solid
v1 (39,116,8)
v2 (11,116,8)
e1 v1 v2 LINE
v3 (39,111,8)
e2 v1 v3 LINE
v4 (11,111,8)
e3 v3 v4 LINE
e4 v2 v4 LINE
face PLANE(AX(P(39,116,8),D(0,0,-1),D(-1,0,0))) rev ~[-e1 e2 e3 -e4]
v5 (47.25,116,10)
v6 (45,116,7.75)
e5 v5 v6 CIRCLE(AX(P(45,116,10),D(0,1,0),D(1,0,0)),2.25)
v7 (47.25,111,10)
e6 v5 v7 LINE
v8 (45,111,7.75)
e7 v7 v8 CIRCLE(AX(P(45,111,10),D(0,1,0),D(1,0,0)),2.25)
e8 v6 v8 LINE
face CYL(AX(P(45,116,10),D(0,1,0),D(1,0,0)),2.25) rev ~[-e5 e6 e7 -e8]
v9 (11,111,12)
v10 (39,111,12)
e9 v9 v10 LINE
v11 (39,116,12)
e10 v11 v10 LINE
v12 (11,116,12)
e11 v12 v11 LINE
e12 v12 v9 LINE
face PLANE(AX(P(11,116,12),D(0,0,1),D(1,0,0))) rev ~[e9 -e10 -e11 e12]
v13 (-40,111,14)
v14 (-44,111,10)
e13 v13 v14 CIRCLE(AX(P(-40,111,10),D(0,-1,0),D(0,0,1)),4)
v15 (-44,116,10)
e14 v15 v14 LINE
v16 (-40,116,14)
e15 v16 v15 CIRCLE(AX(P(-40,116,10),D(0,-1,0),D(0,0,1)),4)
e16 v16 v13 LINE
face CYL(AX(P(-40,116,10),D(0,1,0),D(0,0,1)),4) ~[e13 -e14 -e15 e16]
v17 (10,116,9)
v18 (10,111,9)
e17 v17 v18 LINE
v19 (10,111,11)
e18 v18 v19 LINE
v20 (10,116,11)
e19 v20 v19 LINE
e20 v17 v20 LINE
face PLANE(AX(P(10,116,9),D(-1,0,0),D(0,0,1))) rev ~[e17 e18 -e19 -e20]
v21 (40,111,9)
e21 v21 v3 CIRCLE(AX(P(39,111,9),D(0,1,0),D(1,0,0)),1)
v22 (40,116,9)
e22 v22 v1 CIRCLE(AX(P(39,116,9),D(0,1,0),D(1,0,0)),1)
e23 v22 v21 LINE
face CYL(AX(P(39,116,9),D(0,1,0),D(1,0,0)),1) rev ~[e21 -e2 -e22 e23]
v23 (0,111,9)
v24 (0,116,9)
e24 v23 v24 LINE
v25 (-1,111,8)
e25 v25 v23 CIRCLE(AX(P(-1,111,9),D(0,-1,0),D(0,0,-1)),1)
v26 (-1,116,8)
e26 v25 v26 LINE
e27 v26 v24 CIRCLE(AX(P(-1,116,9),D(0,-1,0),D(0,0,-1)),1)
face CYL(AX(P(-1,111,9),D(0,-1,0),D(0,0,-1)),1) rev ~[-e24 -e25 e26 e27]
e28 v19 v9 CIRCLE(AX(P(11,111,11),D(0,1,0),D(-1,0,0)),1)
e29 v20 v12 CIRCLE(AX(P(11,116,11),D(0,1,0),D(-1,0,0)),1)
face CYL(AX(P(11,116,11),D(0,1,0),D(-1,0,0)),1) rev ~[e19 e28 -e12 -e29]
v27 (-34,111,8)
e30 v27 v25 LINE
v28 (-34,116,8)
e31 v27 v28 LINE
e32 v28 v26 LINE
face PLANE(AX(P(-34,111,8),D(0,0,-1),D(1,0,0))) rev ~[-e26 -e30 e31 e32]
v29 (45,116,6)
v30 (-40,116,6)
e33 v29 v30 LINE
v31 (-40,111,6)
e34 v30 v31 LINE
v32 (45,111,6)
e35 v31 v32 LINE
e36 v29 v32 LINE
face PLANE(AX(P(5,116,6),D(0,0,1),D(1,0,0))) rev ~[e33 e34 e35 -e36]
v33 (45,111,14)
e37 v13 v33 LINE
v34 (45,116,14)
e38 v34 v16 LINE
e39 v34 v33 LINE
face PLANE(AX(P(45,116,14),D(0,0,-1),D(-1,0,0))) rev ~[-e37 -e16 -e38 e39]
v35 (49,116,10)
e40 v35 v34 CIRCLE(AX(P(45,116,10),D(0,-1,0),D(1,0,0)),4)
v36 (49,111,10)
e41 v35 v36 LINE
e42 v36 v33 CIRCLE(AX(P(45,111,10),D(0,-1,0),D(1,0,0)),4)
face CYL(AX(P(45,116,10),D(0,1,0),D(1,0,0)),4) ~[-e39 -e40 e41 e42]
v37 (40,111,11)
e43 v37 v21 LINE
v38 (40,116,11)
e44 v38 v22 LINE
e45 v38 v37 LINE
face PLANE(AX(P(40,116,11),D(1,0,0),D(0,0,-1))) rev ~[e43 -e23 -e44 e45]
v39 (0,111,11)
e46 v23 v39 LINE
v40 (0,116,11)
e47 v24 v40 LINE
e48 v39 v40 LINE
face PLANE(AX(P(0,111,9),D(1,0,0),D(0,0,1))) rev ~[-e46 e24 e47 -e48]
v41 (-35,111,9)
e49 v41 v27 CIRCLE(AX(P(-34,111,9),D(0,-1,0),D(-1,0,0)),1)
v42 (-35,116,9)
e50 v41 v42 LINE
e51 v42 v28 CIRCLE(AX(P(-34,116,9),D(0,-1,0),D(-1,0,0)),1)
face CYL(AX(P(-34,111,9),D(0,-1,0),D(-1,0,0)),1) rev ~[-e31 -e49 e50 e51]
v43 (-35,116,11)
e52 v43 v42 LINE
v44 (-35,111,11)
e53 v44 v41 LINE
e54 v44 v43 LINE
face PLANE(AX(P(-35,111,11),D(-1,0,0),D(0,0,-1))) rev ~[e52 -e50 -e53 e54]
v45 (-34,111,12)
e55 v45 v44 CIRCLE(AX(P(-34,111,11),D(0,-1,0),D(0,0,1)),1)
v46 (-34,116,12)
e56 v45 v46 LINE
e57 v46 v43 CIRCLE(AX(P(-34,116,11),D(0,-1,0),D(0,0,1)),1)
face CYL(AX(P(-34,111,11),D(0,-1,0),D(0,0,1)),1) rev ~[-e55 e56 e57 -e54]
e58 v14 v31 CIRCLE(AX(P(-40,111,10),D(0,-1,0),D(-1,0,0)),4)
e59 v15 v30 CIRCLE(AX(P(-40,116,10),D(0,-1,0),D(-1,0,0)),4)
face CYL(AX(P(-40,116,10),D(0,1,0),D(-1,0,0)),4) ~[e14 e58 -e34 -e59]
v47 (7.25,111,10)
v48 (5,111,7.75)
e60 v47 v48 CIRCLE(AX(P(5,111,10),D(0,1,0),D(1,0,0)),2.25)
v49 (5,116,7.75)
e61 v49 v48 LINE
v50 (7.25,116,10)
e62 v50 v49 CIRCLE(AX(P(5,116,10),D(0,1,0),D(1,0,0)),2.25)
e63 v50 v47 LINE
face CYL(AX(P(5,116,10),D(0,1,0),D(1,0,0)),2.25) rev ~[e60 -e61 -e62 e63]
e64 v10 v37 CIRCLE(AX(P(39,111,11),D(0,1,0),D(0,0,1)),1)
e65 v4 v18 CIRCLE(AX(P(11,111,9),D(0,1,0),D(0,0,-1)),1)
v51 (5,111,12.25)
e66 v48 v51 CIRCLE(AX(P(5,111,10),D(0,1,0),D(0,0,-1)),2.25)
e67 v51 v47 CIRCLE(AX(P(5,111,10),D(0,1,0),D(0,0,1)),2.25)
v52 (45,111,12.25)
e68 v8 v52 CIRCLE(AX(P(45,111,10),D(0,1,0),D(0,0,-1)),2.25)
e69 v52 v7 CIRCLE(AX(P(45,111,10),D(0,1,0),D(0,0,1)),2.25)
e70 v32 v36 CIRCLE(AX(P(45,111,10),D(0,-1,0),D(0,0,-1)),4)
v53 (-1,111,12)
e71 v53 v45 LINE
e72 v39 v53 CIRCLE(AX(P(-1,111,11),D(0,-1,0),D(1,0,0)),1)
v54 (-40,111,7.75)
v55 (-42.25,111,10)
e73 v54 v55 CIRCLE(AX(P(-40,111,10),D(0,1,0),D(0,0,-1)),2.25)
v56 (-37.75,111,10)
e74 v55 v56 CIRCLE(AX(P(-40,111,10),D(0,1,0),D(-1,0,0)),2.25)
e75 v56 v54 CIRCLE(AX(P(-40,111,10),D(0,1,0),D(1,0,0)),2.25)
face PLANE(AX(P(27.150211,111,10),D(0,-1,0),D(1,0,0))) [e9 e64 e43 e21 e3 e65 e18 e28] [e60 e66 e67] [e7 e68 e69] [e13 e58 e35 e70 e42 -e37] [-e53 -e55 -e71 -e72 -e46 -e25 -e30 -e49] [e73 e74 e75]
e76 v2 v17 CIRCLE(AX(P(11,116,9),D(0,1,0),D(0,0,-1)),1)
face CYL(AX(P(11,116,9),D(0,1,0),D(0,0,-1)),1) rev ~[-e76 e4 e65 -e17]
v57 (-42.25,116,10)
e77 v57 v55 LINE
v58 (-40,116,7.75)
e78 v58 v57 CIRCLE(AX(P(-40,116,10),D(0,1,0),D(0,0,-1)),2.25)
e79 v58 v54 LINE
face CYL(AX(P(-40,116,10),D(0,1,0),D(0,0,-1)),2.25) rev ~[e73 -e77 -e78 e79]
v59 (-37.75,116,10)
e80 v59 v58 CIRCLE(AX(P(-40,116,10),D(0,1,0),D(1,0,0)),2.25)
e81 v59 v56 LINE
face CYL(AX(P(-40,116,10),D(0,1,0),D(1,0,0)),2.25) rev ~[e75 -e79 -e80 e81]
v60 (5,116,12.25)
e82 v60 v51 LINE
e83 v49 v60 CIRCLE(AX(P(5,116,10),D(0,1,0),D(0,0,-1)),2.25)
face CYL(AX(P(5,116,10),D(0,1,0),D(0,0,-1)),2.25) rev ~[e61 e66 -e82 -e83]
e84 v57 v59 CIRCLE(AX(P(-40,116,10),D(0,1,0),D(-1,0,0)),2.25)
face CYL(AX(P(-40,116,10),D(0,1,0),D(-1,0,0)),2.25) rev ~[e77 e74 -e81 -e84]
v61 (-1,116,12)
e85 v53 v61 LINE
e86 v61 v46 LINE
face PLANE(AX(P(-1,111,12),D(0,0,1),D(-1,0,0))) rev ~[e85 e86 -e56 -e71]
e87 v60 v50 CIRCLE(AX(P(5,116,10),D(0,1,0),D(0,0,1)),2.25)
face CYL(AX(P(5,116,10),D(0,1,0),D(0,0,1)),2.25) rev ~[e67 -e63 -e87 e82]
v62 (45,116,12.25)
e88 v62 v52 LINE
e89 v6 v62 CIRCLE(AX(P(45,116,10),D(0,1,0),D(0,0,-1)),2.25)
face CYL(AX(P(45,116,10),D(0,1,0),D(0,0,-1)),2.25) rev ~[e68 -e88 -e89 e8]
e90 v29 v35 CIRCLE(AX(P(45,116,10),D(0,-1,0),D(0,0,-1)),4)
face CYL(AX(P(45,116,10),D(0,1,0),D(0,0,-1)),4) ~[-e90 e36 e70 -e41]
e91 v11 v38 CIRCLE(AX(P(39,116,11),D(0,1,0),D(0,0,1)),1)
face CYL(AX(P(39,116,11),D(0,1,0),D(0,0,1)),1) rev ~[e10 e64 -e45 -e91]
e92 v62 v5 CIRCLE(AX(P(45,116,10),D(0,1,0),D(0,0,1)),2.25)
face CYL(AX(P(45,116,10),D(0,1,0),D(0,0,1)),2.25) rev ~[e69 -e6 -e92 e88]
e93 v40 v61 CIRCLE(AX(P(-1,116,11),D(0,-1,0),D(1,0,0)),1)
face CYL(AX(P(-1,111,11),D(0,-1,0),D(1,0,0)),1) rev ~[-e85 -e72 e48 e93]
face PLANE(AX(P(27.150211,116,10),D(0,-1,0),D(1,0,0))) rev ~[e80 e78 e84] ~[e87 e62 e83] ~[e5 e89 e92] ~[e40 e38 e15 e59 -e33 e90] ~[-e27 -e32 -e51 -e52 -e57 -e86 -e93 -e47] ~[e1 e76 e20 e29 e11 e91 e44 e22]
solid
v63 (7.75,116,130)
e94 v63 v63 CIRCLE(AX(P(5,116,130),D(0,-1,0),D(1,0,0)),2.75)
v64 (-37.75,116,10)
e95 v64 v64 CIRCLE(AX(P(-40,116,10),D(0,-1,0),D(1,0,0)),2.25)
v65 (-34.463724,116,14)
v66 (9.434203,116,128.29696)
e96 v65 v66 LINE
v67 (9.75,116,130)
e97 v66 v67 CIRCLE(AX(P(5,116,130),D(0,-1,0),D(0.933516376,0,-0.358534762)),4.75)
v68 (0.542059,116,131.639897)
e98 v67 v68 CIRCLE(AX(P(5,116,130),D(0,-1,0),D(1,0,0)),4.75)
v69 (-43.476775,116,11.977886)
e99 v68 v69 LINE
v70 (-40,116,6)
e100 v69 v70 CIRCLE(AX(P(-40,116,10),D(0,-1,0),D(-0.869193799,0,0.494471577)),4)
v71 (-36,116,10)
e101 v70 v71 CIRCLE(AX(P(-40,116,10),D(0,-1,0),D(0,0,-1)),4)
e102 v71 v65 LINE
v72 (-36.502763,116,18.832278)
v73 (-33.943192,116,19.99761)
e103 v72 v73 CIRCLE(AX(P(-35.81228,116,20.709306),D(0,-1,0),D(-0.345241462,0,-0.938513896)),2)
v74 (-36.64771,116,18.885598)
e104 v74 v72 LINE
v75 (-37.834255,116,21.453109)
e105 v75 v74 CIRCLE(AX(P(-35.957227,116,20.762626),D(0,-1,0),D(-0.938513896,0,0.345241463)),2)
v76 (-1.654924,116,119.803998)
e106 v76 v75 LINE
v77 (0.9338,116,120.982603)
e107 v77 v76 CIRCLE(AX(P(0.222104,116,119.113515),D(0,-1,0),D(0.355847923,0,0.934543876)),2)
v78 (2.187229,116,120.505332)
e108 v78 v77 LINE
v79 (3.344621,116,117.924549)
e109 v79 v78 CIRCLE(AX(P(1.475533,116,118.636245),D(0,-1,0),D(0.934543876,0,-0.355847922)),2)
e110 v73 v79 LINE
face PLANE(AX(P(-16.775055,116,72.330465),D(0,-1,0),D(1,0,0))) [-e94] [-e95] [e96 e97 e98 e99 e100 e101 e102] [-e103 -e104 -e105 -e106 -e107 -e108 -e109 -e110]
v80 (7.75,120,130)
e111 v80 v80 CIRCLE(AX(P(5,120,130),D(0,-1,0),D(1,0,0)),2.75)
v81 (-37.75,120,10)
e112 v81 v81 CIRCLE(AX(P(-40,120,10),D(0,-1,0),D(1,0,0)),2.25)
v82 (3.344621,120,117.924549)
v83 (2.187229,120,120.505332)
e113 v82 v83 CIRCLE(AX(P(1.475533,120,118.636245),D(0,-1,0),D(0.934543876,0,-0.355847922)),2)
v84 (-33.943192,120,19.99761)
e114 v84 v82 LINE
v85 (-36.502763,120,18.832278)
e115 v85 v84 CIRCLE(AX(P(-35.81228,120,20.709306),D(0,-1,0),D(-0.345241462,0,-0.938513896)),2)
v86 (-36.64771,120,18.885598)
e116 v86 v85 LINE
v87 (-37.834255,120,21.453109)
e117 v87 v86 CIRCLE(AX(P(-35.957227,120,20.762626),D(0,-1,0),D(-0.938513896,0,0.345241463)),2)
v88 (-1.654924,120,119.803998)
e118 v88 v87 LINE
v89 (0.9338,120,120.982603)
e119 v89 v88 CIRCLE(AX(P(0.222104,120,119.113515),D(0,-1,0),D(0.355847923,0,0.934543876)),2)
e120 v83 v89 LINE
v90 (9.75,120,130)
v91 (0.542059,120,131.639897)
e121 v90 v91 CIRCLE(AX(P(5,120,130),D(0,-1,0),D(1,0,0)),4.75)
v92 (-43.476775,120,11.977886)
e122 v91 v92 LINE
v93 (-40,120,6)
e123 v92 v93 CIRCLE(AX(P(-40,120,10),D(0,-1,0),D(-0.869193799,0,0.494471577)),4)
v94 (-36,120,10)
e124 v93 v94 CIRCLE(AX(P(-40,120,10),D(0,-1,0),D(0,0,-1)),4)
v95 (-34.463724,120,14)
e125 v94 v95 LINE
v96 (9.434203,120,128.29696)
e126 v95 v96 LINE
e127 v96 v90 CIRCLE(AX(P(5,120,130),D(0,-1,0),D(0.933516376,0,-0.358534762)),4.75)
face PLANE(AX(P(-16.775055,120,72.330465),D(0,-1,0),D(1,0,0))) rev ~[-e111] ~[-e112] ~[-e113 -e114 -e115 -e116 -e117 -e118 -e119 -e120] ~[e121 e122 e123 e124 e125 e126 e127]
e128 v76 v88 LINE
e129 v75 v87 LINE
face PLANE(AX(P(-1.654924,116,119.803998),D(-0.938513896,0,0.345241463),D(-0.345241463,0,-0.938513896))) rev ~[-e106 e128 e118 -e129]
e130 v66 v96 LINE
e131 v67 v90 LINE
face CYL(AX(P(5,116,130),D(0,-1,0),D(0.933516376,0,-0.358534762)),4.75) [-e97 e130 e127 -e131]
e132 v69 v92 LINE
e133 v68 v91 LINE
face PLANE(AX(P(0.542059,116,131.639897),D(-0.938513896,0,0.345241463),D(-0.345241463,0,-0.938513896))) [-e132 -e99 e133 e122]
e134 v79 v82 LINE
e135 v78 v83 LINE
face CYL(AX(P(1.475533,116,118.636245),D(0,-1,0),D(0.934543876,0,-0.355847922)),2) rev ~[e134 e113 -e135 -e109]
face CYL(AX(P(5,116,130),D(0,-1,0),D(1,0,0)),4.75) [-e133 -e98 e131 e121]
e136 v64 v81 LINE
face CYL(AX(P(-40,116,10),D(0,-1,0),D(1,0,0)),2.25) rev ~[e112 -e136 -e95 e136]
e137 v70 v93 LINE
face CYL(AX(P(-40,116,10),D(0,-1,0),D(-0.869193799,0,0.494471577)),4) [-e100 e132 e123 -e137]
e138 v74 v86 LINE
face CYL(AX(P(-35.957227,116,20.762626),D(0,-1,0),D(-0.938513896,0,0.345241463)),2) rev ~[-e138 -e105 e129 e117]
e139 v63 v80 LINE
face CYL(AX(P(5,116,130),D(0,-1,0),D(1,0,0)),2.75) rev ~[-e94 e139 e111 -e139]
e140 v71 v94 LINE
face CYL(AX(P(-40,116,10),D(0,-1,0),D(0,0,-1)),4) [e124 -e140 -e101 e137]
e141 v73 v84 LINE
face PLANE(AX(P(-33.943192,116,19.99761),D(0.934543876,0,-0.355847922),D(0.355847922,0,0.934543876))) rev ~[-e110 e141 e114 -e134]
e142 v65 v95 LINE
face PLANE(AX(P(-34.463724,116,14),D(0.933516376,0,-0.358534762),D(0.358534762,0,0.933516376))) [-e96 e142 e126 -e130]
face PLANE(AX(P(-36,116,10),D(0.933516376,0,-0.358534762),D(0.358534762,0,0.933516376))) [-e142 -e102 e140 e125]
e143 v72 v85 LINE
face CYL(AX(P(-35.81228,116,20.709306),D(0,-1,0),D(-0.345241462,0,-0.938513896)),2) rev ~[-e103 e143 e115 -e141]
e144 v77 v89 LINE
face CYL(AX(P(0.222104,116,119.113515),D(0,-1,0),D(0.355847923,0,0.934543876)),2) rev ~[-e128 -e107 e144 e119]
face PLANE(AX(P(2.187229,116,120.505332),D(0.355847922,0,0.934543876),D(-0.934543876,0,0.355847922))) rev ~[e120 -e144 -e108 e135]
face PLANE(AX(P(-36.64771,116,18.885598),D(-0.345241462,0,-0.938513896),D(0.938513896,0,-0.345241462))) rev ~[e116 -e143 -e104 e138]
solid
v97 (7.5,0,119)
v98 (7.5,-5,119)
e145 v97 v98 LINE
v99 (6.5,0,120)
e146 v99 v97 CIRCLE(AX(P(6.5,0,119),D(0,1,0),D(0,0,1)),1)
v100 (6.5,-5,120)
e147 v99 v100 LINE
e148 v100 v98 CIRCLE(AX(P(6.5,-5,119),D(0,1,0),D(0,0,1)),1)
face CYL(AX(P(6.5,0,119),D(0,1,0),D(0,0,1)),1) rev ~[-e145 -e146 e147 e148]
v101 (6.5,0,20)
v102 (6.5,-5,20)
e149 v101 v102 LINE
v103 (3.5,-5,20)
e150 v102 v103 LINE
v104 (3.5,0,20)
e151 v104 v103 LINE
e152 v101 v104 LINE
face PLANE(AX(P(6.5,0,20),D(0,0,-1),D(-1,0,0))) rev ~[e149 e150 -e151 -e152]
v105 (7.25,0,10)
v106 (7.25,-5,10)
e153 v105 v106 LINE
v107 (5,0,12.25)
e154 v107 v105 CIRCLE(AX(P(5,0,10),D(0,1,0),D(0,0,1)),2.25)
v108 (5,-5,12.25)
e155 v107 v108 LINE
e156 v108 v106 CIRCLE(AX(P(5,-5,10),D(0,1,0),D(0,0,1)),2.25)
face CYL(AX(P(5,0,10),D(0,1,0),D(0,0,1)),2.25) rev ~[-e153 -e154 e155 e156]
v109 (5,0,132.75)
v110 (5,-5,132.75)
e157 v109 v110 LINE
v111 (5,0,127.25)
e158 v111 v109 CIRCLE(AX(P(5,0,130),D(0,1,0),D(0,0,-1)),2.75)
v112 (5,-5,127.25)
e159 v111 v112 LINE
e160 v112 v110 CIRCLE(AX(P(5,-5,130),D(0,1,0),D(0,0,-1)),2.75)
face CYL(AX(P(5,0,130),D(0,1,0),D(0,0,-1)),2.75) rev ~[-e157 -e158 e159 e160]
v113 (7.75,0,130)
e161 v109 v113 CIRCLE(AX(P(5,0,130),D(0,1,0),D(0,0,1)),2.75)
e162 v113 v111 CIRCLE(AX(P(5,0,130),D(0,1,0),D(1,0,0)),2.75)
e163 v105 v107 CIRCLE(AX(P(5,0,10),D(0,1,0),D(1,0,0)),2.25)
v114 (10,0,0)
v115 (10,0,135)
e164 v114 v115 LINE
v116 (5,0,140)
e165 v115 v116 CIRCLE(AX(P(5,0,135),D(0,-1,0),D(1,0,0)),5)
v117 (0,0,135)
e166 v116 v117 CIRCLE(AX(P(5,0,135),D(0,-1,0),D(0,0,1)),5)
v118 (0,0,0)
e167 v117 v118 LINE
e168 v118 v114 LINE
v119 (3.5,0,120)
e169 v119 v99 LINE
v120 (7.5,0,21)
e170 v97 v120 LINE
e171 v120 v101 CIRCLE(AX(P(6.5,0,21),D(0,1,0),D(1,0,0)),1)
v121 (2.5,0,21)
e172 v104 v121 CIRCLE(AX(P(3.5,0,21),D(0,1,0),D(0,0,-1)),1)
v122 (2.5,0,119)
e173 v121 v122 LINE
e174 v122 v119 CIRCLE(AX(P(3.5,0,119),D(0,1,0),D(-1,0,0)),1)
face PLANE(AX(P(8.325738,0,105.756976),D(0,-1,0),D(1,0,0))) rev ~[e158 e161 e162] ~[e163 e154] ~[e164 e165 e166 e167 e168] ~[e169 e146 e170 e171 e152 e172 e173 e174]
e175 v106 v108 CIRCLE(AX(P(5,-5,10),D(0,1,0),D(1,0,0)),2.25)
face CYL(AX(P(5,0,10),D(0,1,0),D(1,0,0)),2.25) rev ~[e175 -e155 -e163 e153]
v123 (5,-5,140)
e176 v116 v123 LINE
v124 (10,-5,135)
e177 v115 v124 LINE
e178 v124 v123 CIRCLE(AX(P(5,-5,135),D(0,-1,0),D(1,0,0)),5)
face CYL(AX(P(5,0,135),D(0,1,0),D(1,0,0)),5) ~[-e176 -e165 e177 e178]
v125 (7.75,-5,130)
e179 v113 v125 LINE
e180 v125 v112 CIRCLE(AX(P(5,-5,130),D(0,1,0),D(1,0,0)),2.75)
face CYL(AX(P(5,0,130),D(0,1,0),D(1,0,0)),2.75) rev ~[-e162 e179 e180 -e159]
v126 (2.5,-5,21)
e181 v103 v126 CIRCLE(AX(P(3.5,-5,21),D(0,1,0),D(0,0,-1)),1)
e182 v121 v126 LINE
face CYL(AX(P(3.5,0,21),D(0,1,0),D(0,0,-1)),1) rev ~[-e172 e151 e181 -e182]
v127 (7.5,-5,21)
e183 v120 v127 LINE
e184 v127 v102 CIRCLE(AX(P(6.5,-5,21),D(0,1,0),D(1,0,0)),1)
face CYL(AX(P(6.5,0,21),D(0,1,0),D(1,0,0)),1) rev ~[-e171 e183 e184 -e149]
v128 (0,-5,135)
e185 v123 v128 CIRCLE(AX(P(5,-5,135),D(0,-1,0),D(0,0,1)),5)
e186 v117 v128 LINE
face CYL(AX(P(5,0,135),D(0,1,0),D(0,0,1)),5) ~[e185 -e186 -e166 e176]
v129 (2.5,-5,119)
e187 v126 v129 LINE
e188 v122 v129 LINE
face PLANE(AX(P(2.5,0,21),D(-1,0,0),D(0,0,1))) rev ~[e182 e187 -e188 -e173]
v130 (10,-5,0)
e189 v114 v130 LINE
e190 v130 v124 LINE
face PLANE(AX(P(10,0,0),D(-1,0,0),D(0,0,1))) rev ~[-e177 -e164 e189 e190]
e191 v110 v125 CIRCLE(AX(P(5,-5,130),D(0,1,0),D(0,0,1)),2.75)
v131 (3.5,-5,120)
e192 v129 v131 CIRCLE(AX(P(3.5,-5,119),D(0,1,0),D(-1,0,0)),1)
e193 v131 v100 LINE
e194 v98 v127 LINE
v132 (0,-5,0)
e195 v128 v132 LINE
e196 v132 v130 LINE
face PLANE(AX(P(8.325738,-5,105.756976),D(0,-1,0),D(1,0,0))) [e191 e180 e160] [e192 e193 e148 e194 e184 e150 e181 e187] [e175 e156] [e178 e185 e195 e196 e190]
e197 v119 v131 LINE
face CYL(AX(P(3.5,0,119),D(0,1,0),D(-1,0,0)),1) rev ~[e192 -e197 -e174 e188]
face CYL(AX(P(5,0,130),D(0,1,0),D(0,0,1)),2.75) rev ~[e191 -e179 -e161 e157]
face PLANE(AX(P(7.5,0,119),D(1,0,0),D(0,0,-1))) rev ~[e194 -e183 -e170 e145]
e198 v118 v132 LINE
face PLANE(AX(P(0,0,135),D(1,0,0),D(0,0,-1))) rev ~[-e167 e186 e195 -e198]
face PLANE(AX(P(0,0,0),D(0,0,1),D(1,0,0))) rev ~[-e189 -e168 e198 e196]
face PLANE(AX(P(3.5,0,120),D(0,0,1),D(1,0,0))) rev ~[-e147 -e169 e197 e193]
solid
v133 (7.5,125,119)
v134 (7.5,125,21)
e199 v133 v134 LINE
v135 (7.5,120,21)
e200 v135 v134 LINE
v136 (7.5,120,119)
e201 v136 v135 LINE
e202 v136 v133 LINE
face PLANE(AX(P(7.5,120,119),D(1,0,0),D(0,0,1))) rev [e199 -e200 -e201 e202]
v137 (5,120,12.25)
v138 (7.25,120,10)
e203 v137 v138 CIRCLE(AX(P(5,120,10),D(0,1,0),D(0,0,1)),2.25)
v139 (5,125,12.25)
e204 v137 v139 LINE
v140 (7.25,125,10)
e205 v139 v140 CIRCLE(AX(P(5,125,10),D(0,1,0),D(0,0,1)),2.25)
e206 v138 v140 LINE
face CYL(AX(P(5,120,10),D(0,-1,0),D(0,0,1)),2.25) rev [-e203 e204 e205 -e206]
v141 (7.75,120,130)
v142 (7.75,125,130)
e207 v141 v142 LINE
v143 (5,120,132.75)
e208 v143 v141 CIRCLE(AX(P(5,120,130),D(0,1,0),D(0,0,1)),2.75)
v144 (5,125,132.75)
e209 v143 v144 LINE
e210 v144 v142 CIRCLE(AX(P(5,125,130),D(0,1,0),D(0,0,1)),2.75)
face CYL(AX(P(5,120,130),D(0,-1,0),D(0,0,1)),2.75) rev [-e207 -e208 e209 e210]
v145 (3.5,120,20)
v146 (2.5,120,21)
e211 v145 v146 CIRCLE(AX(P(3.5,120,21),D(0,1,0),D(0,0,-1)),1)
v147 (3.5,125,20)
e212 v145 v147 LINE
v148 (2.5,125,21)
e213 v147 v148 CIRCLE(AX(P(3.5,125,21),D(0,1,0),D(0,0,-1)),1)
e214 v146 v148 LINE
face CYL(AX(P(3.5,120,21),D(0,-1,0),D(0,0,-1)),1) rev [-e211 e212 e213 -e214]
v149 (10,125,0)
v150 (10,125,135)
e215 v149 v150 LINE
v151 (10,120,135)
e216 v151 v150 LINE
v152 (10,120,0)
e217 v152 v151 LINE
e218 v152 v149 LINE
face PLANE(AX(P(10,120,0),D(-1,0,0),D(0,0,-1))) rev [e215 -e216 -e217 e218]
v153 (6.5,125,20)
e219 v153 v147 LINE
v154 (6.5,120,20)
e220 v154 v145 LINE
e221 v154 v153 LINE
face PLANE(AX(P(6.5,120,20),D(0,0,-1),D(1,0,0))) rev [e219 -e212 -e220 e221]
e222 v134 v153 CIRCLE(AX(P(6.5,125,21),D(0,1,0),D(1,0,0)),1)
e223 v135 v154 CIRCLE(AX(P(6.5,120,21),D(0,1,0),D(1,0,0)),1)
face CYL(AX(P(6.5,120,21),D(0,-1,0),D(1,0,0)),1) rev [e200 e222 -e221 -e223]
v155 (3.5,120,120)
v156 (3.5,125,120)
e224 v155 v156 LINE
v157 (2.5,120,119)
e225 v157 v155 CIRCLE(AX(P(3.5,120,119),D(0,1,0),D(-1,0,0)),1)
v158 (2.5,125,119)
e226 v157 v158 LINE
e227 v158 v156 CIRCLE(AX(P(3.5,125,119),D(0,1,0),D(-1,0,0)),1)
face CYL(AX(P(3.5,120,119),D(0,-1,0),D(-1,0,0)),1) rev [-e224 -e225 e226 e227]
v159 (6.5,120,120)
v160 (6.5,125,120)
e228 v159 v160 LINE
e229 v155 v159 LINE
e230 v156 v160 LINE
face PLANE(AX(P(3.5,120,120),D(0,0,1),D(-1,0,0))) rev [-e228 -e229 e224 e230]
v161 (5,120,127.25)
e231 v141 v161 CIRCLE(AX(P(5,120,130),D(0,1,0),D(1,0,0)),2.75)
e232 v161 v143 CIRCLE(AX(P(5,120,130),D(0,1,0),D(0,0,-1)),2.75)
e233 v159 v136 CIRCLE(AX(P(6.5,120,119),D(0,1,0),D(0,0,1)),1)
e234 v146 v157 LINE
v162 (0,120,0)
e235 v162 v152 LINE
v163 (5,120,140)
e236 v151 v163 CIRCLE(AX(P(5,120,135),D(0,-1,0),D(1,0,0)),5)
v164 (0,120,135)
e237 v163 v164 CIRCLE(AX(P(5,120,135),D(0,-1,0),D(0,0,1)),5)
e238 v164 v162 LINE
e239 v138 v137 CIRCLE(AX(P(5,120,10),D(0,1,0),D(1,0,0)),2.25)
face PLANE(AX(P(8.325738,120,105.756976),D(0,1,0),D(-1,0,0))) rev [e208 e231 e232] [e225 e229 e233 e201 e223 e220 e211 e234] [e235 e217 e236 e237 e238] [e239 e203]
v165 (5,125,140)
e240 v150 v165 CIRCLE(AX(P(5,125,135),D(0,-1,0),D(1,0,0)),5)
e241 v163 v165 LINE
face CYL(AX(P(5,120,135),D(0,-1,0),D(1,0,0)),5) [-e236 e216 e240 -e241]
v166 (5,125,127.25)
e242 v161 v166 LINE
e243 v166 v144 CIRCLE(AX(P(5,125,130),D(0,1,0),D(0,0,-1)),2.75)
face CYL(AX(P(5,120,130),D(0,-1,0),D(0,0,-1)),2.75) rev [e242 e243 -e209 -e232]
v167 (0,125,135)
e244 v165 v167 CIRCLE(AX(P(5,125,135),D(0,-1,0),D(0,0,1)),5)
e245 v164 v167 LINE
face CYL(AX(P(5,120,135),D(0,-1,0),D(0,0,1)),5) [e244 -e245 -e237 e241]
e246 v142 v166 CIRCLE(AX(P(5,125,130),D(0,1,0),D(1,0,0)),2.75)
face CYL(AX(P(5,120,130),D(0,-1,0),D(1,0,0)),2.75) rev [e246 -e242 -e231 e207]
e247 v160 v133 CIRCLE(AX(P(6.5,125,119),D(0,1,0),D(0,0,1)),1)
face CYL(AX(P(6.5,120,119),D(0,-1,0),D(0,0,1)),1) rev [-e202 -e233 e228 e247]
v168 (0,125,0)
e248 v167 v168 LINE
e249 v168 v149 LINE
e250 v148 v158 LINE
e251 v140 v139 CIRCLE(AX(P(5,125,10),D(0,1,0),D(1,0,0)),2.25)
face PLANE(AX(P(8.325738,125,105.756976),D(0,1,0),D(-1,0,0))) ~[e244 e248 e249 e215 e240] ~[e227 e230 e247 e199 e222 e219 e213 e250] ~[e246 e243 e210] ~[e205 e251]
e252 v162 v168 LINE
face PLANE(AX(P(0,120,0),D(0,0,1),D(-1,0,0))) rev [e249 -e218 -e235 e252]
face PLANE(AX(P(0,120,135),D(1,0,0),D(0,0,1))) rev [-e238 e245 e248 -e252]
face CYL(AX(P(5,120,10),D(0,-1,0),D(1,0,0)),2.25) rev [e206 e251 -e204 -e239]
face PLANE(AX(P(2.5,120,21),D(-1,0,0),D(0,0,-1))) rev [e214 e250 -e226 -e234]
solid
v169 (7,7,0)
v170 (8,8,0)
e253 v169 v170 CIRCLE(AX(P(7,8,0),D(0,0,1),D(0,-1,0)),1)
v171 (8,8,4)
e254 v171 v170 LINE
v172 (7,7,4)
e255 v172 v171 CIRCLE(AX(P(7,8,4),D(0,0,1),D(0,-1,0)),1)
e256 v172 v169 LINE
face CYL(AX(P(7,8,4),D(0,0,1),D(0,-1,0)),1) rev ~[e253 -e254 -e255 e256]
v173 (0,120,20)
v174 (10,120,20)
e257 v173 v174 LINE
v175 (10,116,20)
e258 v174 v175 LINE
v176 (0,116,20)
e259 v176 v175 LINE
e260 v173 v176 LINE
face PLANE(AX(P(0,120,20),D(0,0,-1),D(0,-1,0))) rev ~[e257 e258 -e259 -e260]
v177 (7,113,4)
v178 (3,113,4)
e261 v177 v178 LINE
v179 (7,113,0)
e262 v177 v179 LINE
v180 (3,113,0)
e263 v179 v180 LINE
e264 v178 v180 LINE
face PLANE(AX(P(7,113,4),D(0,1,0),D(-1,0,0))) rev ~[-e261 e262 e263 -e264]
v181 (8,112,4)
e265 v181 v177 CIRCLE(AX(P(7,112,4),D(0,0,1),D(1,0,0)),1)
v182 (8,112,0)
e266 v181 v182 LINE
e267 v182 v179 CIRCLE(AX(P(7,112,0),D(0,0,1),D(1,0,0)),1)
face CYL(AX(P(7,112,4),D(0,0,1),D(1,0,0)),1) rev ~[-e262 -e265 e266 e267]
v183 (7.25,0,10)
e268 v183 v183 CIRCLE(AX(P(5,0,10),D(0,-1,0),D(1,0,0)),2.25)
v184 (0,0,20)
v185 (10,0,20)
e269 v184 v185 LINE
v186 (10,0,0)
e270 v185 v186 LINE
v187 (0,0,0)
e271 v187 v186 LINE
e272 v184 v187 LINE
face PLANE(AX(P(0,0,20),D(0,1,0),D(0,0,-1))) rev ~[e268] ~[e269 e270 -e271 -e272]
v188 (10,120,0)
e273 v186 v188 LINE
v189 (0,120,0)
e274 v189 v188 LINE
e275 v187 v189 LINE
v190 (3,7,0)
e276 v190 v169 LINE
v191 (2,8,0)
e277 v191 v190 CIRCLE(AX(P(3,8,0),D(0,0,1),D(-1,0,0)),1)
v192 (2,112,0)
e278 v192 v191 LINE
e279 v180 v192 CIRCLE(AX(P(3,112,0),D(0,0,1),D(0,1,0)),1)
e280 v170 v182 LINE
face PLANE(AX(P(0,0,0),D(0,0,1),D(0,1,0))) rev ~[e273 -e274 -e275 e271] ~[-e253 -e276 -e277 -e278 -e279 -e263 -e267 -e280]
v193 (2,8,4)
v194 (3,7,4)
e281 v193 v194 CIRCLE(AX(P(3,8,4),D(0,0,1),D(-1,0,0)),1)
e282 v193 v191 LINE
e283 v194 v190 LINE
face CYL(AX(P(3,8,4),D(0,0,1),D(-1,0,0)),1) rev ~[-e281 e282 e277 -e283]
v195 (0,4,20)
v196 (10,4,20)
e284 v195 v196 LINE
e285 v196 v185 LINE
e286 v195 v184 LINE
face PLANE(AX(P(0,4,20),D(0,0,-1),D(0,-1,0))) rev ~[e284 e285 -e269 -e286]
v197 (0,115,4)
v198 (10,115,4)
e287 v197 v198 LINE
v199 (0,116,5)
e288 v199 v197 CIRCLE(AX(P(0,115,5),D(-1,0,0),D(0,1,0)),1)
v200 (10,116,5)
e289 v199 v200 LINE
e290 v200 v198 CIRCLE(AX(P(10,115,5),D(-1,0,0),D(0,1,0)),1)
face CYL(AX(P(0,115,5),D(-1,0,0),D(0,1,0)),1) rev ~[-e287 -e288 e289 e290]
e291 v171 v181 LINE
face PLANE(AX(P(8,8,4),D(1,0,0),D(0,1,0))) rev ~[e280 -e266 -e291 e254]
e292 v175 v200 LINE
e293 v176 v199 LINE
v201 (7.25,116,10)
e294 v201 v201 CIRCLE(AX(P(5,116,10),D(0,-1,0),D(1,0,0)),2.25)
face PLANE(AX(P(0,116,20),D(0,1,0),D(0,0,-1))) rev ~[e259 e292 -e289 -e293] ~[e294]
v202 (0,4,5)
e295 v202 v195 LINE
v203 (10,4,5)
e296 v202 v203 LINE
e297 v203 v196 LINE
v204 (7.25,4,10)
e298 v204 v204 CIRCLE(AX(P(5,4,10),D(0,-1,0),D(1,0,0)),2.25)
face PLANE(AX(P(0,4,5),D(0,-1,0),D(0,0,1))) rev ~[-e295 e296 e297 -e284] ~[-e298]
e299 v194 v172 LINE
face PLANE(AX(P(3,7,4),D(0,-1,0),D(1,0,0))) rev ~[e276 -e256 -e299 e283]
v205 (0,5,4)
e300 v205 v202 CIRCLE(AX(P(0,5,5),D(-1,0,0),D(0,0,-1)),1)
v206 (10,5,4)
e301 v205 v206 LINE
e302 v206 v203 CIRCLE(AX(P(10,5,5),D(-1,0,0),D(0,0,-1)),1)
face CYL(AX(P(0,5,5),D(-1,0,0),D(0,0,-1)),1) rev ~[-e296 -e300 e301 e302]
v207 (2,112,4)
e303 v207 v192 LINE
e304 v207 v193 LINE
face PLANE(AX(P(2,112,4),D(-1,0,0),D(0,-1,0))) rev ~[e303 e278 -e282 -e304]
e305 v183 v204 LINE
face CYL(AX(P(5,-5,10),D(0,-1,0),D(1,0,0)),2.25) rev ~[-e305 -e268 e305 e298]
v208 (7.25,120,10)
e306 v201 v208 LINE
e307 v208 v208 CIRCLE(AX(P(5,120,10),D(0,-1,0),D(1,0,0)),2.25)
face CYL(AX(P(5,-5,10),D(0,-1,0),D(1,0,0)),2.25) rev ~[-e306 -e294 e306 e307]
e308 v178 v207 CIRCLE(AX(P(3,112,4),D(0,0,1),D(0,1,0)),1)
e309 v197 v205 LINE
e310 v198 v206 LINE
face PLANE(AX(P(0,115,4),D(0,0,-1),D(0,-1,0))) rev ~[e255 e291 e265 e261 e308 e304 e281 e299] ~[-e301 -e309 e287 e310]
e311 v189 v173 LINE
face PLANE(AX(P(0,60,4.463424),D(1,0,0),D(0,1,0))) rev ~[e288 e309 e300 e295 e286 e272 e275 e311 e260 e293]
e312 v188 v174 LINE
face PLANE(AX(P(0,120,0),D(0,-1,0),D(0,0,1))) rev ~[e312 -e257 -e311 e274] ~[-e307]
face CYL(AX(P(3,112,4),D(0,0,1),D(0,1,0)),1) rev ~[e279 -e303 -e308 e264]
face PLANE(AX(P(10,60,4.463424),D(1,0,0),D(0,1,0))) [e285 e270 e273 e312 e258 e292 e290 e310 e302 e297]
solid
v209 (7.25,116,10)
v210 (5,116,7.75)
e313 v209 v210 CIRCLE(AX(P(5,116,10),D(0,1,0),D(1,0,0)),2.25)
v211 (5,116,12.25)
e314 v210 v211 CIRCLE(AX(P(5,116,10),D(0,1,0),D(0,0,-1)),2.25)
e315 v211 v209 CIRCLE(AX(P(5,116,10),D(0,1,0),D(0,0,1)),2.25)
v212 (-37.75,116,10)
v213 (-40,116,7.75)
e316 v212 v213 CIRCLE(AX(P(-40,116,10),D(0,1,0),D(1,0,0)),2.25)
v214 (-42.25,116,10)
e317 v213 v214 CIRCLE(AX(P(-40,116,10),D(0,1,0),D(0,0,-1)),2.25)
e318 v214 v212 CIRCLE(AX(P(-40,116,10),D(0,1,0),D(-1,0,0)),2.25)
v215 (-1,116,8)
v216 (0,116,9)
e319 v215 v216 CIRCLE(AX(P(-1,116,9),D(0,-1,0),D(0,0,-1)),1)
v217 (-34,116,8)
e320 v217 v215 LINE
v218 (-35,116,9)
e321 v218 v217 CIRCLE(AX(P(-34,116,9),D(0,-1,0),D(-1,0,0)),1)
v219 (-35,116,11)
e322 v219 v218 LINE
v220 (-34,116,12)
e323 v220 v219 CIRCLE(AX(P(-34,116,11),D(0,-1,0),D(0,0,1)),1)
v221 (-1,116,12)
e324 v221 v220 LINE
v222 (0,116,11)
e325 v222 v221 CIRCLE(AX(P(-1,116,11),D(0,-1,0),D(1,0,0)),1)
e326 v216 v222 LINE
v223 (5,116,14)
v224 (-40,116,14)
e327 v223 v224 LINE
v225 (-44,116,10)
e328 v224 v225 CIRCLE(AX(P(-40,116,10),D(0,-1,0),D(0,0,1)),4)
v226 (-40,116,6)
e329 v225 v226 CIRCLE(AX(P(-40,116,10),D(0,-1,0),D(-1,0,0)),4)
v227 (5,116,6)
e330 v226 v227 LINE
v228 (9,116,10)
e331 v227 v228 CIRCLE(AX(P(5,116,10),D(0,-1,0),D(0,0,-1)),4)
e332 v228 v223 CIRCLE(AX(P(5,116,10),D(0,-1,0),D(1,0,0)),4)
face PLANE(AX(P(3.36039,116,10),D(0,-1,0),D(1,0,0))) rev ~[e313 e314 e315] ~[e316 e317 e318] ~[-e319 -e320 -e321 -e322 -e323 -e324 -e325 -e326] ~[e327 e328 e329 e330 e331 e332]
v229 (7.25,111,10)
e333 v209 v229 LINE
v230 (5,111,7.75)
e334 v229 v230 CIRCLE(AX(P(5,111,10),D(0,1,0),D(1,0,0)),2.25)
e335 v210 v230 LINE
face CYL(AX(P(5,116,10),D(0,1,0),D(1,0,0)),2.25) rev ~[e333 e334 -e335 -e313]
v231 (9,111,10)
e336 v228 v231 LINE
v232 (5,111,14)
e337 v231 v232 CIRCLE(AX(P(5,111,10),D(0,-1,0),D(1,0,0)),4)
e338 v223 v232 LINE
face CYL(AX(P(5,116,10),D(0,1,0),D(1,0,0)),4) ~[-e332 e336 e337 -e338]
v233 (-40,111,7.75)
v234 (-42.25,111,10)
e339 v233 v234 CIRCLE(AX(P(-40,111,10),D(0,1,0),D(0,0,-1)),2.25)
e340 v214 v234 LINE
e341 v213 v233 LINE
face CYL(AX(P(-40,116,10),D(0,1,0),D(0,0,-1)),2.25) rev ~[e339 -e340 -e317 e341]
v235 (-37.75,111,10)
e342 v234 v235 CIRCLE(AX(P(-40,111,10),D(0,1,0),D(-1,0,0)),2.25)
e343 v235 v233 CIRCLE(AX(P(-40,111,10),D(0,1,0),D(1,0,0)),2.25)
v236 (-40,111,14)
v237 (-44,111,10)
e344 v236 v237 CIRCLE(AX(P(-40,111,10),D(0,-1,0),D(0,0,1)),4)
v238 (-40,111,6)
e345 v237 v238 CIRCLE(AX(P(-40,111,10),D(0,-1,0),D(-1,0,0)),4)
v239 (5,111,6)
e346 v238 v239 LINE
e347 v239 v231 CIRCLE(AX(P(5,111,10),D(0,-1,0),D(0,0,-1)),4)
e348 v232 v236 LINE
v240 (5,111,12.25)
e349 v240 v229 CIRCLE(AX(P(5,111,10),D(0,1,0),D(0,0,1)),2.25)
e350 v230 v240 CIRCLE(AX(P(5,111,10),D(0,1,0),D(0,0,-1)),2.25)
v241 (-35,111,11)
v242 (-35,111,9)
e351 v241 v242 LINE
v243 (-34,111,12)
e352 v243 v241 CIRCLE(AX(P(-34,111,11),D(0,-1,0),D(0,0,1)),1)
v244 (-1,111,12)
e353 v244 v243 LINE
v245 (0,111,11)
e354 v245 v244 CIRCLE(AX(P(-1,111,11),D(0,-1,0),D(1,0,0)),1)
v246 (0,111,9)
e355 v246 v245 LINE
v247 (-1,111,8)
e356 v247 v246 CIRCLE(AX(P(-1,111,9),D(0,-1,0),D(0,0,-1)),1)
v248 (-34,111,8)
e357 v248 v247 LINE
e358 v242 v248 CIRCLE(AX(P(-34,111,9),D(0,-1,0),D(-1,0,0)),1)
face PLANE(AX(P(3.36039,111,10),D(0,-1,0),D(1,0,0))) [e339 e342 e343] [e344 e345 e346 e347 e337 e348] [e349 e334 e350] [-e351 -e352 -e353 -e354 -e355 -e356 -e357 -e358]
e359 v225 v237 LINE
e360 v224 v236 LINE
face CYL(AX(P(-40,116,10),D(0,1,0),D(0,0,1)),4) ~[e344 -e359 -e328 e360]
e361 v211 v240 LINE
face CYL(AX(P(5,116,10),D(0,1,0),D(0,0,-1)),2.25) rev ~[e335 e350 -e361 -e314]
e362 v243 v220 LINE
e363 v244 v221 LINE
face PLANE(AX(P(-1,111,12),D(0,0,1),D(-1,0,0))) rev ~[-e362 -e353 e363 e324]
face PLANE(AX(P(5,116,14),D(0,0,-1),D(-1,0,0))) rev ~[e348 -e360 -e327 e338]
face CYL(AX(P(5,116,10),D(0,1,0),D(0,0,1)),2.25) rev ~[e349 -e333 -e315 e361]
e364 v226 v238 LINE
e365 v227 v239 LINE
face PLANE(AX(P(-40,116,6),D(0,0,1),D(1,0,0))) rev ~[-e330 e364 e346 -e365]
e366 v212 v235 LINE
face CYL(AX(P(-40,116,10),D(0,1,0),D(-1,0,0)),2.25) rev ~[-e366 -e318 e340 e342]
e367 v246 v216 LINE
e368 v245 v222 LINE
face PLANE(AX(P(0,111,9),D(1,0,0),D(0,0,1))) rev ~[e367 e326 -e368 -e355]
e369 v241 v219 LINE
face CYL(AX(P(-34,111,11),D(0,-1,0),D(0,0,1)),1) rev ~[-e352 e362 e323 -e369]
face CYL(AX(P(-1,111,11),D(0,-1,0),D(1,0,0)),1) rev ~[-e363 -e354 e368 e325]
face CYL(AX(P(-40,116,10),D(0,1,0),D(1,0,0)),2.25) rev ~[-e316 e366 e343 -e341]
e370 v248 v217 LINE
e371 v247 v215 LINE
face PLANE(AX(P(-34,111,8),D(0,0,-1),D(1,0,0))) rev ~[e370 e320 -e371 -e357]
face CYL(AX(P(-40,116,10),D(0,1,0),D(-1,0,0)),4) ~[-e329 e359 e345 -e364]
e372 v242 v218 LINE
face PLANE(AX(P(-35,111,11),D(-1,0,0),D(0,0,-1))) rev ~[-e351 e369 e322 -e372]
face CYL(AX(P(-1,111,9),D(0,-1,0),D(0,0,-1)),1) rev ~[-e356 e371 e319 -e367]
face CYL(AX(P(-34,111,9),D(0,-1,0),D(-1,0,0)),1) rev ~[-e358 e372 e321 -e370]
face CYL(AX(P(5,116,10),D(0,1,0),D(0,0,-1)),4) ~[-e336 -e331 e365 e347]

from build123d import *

# Parameters (mm, degrees)
F1_DEPTH  = 5
F6_DEPTH  = 10
F8_DEPTH  = 25
F9_R      = 2.25
F10_DEPTH = 130.001
F12_DEPTH = 5
F14_DEPTH = 25
F16_DEPTH = 5
F17_R     = 2.25
F17_R_2   = 2.75
F18_DEPTH = 4
F20_DEPTH = 25


with BuildPart() as f1:
    # F0 (on Front) → F1 (new body)
    with BuildSketch(Plane.XZ):
        with BuildLine():
            Line((7.5, 70), (10, 70))
            Line((10, 70), (10, 135))
            ThreePointArc((10, 135), (8.5355339059, 138.5355339059), (5, 140))
            Line((5, 140), (5, 132.75))
            ThreePointArc((5, 132.75), (6.9445436483, 131.9445436483), (7.75, 130))
            ThreePointArc((7.75, 130), (6.9445436483, 128.0554563517), (5, 127.25))
            Line((5, 127.25), (5, 120))
            Line((5, 120), (6.5, 120))
            ThreePointArc((6.5, 120), (7.2071067812, 119.7071067812), (7.5, 119))
            Line((7.5, 119), (7.5, 70))
        make_face()
        with BuildLine():
            Line((0, 135), (0, 70))
            Line((0, 70), (2.5, 70))
            Line((2.5, 70), (2.5, 119))
            ThreePointArc((2.5, 119), (2.7928932188, 119.7071067812), (3.5, 120))
            Line((3.5, 120), (5, 120))
            Line((5, 120), (5, 127.25))
            ThreePointArc((5, 127.25), (2.25, 130), (5, 132.75))
            Line((5, 132.75), (5, 140))
            ThreePointArc((5, 140), (1.4644660941, 138.5355339059), (0, 135))
        make_face()
        with BuildLine():
            Line((0, 70), (0, 0))
            Line((0, 0), (10, 0))
            Line((10, 0), (10, 70))
            Line((10, 70), (7.5, 70))
            Line((7.5, 70), (7.5, 21))
            ThreePointArc((7.5, 21), (7.2071067812, 20.2928932188), (6.5, 20))
            Line((6.5, 20), (5, 20))
            Line((5, 20), (3.5, 20))
            ThreePointArc((3.5, 20), (2.7928932188, 20.2928932188), (2.5, 21))
            Line((2.5, 21), (2.5, 70))
            Line((2.5, 70), (0, 70))
        make_face()
        with BuildLine():
            ThreePointArc((7.25, 10), (3.4090097423, 8.4090097423), (5, 12.25))
            ThreePointArc((5, 12.25), (6.5909902577, 11.5909902577), (7.25, 10))
        make_face(mode=Mode.SUBTRACT)
    extrude(amount=F1_DEPTH)


with BuildPart() as f4_1:
    # F4: instance of F1
    add(f1.part.mirror(Plane(origin=(0, 60, 0), x_dir=(-1, 0, 0), z_dir=(0, 1, 0))))


with BuildPart() as f6:
    # F5 (on Right) → F6 (new body)
    with BuildSketch(Plane.YZ):
        with BuildLine():
            Line((0, 20), (0, 0))
            Line((0, 0), (120, 0))
            Line((120, 0), (120, 20))
            Line((120, 20), (116, 20))
            Line((116, 20), (116, 15))
            Line((116, 15), (116, 5))
            ThreePointArc((116, 5), (115.7071067812, 4.2928932188), (115, 4))
            Line((115, 4), (5, 4))
            ThreePointArc((5, 4), (4.2928932188, 4.2928932188), (4, 5))
            Line((4, 5), (4, 15))
            Line((4, 15), (4, 20))
            Line((4, 20), (0, 20))
        make_face()
    extrude(amount=F6_DEPTH)

    # F7 (on face) → F8 (cut)
    with BuildSketch(Plane.XY.offset(4)):
        with BuildLine():
            ThreePointArc((3, 113), (2.2928932188, 112.7071067812), (2, 112))
            Line((2, 112), (2, 8))
            ThreePointArc((2, 8), (2.2928932188, 7.2928932188), (3, 7))
            Line((3, 7), (7, 7))
            ThreePointArc((7, 7), (7.7071067812, 7.2928932188), (8, 8))
            Line((8, 8), (8, 112))
            ThreePointArc((8, 112), (7.7071067812, 112.7071067812), (7, 113))
            Line((7, 113), (3, 113))
        make_face()
    extrude(amount=-F8_DEPTH, mode=Mode.SUBTRACT)

    # F9 (on face) → F10 (cut, through all)
    with BuildSketch(Plane.XZ.offset(5)):
        with Locations((5, 10)):
            Circle(F9_R)
    extrude(amount=-F10_DEPTH, mode=Mode.SUBTRACT)


with BuildPart() as f12:
    # F11 (on face) → F12 (new body)
    with BuildSketch(Plane.XZ.offset(-116)):
        with BuildLine():
            Line((5, 12.25), (5, 14))
            ThreePointArc((5, 14), (1, 10), (5, 6))
            Line((5, 6), (5, 7.75))
            ThreePointArc((5, 7.75), (2.75, 10), (5, 12.25))
        make_face()
        with BuildLine():
            ThreePointArc((5, 6), (7.8284271247, 7.1715728753), (9, 10))
            ThreePointArc((9, 10), (7.8284271247, 12.8284271247), (5, 14))
            Line((5, 14), (5, 12.25))
            ThreePointArc((5, 12.25), (6.5909902577, 11.5909902577), (7.25, 10))
            ThreePointArc((7.25, 10), (6.5909902577, 8.4090097423), (5, 7.75))
            Line((5, 7.75), (5, 6))
        make_face()
        with BuildLine():
            ThreePointArc((5, 6), (1, 10), (5, 14))
            Line((5, 14), (0, 14))
            Line((0, 14), (0, 6))
            Line((0, 6), (5, 6))
        make_face()
        with BuildLine():
            Line((0, 6), (0, 14))
            Line((0, 14), (-40, 14))
            ThreePointArc((-40, 14), (-37.1715728753, 12.8284271247), (-36, 10))
            ThreePointArc((-36, 10), (-37.1715728753, 7.1715728753), (-40, 6))
            Line((-40, 6), (0, 6))
        make_face()
        with BuildLine():
            Line((-40, 7.75), (-40, 6))
            ThreePointArc((-40, 6), (-37.1715728753, 7.1715728753), (-36, 10))
            Line((-36, 10), (-37.75, 10))
            ThreePointArc((-37.75, 10), (-38.4090097423, 8.4090097423), (-40, 7.75))
        make_face()
        with BuildLine():
            ThreePointArc((-44, 10), (-42.8284271247, 7.1715728753), (-40, 6))
            Line((-40, 6), (-40, 7.75))
            ThreePointArc((-40, 7.75), (-41.5909902577, 8.4090097423), (-42.25, 10))
            Line((-42.25, 10), (-44, 10))
        make_face()
        with BuildLine():
            ThreePointArc((-36, 10), (-37.1715728753, 12.8284271247), (-40, 14))
            ThreePointArc((-40, 14), (-42.8284271247, 12.8284271247), (-44, 10))
            Line((-44, 10), (-42.25, 10))
            ThreePointArc((-42.25, 10), (-40, 12.25), (-37.75, 10))
            Line((-37.75, 10), (-36, 10))
        make_face()
    extrude(amount=F12_DEPTH)

    # F13 (on face) → F14 (cut)
    with BuildSketch(Plane.XZ.offset(-111)):
        with BuildLine():
            Line((-35, 10), (0, 10))
            Line((0, 10), (0, 11))
            ThreePointArc((0, 11), (-0.2928932188, 11.7071067812), (-1, 12))
            Line((-1, 12), (-34, 12))
            ThreePointArc((-34, 12), (-34.7071067812, 11.7071067812), (-35, 11))
            Line((-35, 11), (-35, 10))
        make_face()
        with BuildLine():
            Line((0, 9), (0, 10))
            Line((0, 10), (-35, 10))
            Line((-35, 10), (-35, 9))
            ThreePointArc((-35, 9), (-34.7071067812, 8.2928932188), (-34, 8))
            Line((-34, 8), (-1, 8))
            ThreePointArc((-1, 8), (-0.2928932188, 8.2928932188), (0, 9))
        make_face()
    extrude(amount=-F14_DEPTH, mode=Mode.SUBTRACT)


with BuildPart() as f15_1:
    # F15: copy of F12
    add(f12.part)

    # F11 (on face) → F16 (join)
    with BuildSketch(Plane.XZ.offset(-116)):
        with BuildLine():
            Line((45, 14), (10, 14))
            Line((10, 14), (10, 11))
            ThreePointArc((10, 11), (10.2928932188, 11.7071067812), (11, 12))
            Line((11, 12), (39, 12))
            ThreePointArc((39, 12), (39.7071067812, 11.7071067812), (40, 11))
            Line((40, 11), (40, 9))
            ThreePointArc((40, 9), (39.7071067812, 8.2928932188), (39, 8))
            Line((39, 8), (11, 8))
            ThreePointArc((11, 8), (10.2928932188, 8.2928932188), (10, 9))
            Line((10, 9), (10, 6))
            Line((10, 6), (45, 6))
            ThreePointArc((45, 6), (41, 10), (45, 14))
        make_face()
        with BuildLine():
            ThreePointArc((5, 14), (7.8284271247, 12.8284271247), (9, 10))
            ThreePointArc((9, 10), (7.8284271247, 7.1715728753), (5, 6))
            Line((5, 6), (10, 6))
            Line((10, 6), (10, 9))
            Line((10, 9), (10, 11))
            Line((10, 11), (10, 14))
            Line((10, 14), (5, 14))
        make_face()
        with BuildLine():
            Line((45, 12.25), (45, 14))
            ThreePointArc((45, 14), (41, 10), (45, 6))
            Line((45, 6), (45, 7.75))
            ThreePointArc((45, 7.75), (42.75, 10), (45, 12.25))
        make_face()
        with BuildLine():
            ThreePointArc((49, 10), (47.8284271247, 12.8284271247), (45, 14))
            Line((45, 14), (45, 12.25))
            ThreePointArc((45, 12.25), (46.5909902577, 11.5909902577), (47.25, 10))
            ThreePointArc((47.25, 10), (46.5909902577, 8.4090097423), (45, 7.75))
            Line((45, 7.75), (45, 6))
            ThreePointArc((45, 6), (47.8284271247, 7.1715728753), (49, 10))
        make_face()
    extrude(amount=F16_DEPTH)


with BuildPart() as f18:
    # F17 (on face) → F18 (new body)
    with BuildSketch(Plane.XZ.offset(-116)):
        with BuildLine():
            ThreePointArc((-43.4767751946, 11.9778863077), (-42.0110264505, 13.4577120492), (-40, 14))
            Line((-40, 14), (-34.4637237396, 14))
            Line((-34.4637237396, 14), (9.4342027867, 128.2969598812))
            ThreePointArc((9.4342027867, 128.2969598812), (3.3284893263, 125.5538160106), (0.5420589951, 131.639896947))
            Line((0.5420589951, 131.639896947), (-43.4767751946, 11.9778863077))
        make_face()
        with BuildLine():
            ThreePointArc((-40, 6), (-37.1715728753, 7.1715728753), (-36, 10))
            ThreePointArc((-36, 10), (-37.1715728753, 12.8284271247), (-40, 14))
            ThreePointArc((-40, 14), (-42.0110264505, 13.4577120492), (-43.4767751946, 11.9778863077))
            ThreePointArc((-43.4767751946, 11.9778863077), (-43.4577120492, 7.9889735495), (-40, 6))
        make_face()
        with Locations((-40, 10)):
            Circle(F17_R, mode=Mode.SUBTRACT)
        with BuildLine():
            ThreePointArc((-40, 14), (-37.1715728753, 12.8284271247), (-36, 10))
            Line((-36, 10), (-34.4637237396, 14))
            Line((-34.4637237396, 14), (-40, 14))
        make_face()
        with BuildLine():
            ThreePointArc((0.5420589951, 131.639896947), (3.3284893263, 125.5538160106), (9.4342027867, 128.2969598812))
            ThreePointArc((9.4342027867, 128.2969598812), (9.6703834552, 129.1339639837), (9.75, 130))
            ThreePointArc((9.75, 130), (5.8328505949, 134.6764152817), (0.5420589951, 131.639896947))
        make_face()
        with Locations((5, 130)):
            Circle(F17_R_2, mode=Mode.SUBTRACT)
    extrude(amount=-F18_DEPTH)

    # F19 (on face) → F20 (cut)
    with BuildSketch(Plane.XZ.offset(-116)):
        with BuildLine():
            ThreePointArc((0.9337998582, 120.9826029376), (-0.6066160667, 120.9337412786), (-1.6549237783, 119.8039981108))
            Line((-1.6549237783, 119.8039981108), (-37.8342546416, 21.4531091246))
            ThreePointArc((-37.8342546416, 21.4531091246), (-37.7727310886, 19.9236122783), (-36.6477097751, 18.885598408))
            Line((-36.6477097751, 18.885598408), (-36.5027629585, 18.8322783121))
            ThreePointArc((-36.5027629585, 18.8322783121), (-34.9835599535, 18.8890800108), (-33.9431922815, 19.9976102587))
            Line((-33.9431922815, 19.9976102587), (3.3446211044, 117.9245488371))
            ThreePointArc((3.3446211044, 117.9245488371), (3.3004229346, 119.454644348), (2.1872291975, 120.505332434))
            Line((2.1872291975, 120.505332434), (0.9337998582, 120.9826029376))
        make_face()
    extrude(amount=-F20_DEPTH, mode=Mode.SUBTRACT)


solid = Compound([f1.part, f4_1.part, f6.part, f12.part, f15_1.part, f18.part])
